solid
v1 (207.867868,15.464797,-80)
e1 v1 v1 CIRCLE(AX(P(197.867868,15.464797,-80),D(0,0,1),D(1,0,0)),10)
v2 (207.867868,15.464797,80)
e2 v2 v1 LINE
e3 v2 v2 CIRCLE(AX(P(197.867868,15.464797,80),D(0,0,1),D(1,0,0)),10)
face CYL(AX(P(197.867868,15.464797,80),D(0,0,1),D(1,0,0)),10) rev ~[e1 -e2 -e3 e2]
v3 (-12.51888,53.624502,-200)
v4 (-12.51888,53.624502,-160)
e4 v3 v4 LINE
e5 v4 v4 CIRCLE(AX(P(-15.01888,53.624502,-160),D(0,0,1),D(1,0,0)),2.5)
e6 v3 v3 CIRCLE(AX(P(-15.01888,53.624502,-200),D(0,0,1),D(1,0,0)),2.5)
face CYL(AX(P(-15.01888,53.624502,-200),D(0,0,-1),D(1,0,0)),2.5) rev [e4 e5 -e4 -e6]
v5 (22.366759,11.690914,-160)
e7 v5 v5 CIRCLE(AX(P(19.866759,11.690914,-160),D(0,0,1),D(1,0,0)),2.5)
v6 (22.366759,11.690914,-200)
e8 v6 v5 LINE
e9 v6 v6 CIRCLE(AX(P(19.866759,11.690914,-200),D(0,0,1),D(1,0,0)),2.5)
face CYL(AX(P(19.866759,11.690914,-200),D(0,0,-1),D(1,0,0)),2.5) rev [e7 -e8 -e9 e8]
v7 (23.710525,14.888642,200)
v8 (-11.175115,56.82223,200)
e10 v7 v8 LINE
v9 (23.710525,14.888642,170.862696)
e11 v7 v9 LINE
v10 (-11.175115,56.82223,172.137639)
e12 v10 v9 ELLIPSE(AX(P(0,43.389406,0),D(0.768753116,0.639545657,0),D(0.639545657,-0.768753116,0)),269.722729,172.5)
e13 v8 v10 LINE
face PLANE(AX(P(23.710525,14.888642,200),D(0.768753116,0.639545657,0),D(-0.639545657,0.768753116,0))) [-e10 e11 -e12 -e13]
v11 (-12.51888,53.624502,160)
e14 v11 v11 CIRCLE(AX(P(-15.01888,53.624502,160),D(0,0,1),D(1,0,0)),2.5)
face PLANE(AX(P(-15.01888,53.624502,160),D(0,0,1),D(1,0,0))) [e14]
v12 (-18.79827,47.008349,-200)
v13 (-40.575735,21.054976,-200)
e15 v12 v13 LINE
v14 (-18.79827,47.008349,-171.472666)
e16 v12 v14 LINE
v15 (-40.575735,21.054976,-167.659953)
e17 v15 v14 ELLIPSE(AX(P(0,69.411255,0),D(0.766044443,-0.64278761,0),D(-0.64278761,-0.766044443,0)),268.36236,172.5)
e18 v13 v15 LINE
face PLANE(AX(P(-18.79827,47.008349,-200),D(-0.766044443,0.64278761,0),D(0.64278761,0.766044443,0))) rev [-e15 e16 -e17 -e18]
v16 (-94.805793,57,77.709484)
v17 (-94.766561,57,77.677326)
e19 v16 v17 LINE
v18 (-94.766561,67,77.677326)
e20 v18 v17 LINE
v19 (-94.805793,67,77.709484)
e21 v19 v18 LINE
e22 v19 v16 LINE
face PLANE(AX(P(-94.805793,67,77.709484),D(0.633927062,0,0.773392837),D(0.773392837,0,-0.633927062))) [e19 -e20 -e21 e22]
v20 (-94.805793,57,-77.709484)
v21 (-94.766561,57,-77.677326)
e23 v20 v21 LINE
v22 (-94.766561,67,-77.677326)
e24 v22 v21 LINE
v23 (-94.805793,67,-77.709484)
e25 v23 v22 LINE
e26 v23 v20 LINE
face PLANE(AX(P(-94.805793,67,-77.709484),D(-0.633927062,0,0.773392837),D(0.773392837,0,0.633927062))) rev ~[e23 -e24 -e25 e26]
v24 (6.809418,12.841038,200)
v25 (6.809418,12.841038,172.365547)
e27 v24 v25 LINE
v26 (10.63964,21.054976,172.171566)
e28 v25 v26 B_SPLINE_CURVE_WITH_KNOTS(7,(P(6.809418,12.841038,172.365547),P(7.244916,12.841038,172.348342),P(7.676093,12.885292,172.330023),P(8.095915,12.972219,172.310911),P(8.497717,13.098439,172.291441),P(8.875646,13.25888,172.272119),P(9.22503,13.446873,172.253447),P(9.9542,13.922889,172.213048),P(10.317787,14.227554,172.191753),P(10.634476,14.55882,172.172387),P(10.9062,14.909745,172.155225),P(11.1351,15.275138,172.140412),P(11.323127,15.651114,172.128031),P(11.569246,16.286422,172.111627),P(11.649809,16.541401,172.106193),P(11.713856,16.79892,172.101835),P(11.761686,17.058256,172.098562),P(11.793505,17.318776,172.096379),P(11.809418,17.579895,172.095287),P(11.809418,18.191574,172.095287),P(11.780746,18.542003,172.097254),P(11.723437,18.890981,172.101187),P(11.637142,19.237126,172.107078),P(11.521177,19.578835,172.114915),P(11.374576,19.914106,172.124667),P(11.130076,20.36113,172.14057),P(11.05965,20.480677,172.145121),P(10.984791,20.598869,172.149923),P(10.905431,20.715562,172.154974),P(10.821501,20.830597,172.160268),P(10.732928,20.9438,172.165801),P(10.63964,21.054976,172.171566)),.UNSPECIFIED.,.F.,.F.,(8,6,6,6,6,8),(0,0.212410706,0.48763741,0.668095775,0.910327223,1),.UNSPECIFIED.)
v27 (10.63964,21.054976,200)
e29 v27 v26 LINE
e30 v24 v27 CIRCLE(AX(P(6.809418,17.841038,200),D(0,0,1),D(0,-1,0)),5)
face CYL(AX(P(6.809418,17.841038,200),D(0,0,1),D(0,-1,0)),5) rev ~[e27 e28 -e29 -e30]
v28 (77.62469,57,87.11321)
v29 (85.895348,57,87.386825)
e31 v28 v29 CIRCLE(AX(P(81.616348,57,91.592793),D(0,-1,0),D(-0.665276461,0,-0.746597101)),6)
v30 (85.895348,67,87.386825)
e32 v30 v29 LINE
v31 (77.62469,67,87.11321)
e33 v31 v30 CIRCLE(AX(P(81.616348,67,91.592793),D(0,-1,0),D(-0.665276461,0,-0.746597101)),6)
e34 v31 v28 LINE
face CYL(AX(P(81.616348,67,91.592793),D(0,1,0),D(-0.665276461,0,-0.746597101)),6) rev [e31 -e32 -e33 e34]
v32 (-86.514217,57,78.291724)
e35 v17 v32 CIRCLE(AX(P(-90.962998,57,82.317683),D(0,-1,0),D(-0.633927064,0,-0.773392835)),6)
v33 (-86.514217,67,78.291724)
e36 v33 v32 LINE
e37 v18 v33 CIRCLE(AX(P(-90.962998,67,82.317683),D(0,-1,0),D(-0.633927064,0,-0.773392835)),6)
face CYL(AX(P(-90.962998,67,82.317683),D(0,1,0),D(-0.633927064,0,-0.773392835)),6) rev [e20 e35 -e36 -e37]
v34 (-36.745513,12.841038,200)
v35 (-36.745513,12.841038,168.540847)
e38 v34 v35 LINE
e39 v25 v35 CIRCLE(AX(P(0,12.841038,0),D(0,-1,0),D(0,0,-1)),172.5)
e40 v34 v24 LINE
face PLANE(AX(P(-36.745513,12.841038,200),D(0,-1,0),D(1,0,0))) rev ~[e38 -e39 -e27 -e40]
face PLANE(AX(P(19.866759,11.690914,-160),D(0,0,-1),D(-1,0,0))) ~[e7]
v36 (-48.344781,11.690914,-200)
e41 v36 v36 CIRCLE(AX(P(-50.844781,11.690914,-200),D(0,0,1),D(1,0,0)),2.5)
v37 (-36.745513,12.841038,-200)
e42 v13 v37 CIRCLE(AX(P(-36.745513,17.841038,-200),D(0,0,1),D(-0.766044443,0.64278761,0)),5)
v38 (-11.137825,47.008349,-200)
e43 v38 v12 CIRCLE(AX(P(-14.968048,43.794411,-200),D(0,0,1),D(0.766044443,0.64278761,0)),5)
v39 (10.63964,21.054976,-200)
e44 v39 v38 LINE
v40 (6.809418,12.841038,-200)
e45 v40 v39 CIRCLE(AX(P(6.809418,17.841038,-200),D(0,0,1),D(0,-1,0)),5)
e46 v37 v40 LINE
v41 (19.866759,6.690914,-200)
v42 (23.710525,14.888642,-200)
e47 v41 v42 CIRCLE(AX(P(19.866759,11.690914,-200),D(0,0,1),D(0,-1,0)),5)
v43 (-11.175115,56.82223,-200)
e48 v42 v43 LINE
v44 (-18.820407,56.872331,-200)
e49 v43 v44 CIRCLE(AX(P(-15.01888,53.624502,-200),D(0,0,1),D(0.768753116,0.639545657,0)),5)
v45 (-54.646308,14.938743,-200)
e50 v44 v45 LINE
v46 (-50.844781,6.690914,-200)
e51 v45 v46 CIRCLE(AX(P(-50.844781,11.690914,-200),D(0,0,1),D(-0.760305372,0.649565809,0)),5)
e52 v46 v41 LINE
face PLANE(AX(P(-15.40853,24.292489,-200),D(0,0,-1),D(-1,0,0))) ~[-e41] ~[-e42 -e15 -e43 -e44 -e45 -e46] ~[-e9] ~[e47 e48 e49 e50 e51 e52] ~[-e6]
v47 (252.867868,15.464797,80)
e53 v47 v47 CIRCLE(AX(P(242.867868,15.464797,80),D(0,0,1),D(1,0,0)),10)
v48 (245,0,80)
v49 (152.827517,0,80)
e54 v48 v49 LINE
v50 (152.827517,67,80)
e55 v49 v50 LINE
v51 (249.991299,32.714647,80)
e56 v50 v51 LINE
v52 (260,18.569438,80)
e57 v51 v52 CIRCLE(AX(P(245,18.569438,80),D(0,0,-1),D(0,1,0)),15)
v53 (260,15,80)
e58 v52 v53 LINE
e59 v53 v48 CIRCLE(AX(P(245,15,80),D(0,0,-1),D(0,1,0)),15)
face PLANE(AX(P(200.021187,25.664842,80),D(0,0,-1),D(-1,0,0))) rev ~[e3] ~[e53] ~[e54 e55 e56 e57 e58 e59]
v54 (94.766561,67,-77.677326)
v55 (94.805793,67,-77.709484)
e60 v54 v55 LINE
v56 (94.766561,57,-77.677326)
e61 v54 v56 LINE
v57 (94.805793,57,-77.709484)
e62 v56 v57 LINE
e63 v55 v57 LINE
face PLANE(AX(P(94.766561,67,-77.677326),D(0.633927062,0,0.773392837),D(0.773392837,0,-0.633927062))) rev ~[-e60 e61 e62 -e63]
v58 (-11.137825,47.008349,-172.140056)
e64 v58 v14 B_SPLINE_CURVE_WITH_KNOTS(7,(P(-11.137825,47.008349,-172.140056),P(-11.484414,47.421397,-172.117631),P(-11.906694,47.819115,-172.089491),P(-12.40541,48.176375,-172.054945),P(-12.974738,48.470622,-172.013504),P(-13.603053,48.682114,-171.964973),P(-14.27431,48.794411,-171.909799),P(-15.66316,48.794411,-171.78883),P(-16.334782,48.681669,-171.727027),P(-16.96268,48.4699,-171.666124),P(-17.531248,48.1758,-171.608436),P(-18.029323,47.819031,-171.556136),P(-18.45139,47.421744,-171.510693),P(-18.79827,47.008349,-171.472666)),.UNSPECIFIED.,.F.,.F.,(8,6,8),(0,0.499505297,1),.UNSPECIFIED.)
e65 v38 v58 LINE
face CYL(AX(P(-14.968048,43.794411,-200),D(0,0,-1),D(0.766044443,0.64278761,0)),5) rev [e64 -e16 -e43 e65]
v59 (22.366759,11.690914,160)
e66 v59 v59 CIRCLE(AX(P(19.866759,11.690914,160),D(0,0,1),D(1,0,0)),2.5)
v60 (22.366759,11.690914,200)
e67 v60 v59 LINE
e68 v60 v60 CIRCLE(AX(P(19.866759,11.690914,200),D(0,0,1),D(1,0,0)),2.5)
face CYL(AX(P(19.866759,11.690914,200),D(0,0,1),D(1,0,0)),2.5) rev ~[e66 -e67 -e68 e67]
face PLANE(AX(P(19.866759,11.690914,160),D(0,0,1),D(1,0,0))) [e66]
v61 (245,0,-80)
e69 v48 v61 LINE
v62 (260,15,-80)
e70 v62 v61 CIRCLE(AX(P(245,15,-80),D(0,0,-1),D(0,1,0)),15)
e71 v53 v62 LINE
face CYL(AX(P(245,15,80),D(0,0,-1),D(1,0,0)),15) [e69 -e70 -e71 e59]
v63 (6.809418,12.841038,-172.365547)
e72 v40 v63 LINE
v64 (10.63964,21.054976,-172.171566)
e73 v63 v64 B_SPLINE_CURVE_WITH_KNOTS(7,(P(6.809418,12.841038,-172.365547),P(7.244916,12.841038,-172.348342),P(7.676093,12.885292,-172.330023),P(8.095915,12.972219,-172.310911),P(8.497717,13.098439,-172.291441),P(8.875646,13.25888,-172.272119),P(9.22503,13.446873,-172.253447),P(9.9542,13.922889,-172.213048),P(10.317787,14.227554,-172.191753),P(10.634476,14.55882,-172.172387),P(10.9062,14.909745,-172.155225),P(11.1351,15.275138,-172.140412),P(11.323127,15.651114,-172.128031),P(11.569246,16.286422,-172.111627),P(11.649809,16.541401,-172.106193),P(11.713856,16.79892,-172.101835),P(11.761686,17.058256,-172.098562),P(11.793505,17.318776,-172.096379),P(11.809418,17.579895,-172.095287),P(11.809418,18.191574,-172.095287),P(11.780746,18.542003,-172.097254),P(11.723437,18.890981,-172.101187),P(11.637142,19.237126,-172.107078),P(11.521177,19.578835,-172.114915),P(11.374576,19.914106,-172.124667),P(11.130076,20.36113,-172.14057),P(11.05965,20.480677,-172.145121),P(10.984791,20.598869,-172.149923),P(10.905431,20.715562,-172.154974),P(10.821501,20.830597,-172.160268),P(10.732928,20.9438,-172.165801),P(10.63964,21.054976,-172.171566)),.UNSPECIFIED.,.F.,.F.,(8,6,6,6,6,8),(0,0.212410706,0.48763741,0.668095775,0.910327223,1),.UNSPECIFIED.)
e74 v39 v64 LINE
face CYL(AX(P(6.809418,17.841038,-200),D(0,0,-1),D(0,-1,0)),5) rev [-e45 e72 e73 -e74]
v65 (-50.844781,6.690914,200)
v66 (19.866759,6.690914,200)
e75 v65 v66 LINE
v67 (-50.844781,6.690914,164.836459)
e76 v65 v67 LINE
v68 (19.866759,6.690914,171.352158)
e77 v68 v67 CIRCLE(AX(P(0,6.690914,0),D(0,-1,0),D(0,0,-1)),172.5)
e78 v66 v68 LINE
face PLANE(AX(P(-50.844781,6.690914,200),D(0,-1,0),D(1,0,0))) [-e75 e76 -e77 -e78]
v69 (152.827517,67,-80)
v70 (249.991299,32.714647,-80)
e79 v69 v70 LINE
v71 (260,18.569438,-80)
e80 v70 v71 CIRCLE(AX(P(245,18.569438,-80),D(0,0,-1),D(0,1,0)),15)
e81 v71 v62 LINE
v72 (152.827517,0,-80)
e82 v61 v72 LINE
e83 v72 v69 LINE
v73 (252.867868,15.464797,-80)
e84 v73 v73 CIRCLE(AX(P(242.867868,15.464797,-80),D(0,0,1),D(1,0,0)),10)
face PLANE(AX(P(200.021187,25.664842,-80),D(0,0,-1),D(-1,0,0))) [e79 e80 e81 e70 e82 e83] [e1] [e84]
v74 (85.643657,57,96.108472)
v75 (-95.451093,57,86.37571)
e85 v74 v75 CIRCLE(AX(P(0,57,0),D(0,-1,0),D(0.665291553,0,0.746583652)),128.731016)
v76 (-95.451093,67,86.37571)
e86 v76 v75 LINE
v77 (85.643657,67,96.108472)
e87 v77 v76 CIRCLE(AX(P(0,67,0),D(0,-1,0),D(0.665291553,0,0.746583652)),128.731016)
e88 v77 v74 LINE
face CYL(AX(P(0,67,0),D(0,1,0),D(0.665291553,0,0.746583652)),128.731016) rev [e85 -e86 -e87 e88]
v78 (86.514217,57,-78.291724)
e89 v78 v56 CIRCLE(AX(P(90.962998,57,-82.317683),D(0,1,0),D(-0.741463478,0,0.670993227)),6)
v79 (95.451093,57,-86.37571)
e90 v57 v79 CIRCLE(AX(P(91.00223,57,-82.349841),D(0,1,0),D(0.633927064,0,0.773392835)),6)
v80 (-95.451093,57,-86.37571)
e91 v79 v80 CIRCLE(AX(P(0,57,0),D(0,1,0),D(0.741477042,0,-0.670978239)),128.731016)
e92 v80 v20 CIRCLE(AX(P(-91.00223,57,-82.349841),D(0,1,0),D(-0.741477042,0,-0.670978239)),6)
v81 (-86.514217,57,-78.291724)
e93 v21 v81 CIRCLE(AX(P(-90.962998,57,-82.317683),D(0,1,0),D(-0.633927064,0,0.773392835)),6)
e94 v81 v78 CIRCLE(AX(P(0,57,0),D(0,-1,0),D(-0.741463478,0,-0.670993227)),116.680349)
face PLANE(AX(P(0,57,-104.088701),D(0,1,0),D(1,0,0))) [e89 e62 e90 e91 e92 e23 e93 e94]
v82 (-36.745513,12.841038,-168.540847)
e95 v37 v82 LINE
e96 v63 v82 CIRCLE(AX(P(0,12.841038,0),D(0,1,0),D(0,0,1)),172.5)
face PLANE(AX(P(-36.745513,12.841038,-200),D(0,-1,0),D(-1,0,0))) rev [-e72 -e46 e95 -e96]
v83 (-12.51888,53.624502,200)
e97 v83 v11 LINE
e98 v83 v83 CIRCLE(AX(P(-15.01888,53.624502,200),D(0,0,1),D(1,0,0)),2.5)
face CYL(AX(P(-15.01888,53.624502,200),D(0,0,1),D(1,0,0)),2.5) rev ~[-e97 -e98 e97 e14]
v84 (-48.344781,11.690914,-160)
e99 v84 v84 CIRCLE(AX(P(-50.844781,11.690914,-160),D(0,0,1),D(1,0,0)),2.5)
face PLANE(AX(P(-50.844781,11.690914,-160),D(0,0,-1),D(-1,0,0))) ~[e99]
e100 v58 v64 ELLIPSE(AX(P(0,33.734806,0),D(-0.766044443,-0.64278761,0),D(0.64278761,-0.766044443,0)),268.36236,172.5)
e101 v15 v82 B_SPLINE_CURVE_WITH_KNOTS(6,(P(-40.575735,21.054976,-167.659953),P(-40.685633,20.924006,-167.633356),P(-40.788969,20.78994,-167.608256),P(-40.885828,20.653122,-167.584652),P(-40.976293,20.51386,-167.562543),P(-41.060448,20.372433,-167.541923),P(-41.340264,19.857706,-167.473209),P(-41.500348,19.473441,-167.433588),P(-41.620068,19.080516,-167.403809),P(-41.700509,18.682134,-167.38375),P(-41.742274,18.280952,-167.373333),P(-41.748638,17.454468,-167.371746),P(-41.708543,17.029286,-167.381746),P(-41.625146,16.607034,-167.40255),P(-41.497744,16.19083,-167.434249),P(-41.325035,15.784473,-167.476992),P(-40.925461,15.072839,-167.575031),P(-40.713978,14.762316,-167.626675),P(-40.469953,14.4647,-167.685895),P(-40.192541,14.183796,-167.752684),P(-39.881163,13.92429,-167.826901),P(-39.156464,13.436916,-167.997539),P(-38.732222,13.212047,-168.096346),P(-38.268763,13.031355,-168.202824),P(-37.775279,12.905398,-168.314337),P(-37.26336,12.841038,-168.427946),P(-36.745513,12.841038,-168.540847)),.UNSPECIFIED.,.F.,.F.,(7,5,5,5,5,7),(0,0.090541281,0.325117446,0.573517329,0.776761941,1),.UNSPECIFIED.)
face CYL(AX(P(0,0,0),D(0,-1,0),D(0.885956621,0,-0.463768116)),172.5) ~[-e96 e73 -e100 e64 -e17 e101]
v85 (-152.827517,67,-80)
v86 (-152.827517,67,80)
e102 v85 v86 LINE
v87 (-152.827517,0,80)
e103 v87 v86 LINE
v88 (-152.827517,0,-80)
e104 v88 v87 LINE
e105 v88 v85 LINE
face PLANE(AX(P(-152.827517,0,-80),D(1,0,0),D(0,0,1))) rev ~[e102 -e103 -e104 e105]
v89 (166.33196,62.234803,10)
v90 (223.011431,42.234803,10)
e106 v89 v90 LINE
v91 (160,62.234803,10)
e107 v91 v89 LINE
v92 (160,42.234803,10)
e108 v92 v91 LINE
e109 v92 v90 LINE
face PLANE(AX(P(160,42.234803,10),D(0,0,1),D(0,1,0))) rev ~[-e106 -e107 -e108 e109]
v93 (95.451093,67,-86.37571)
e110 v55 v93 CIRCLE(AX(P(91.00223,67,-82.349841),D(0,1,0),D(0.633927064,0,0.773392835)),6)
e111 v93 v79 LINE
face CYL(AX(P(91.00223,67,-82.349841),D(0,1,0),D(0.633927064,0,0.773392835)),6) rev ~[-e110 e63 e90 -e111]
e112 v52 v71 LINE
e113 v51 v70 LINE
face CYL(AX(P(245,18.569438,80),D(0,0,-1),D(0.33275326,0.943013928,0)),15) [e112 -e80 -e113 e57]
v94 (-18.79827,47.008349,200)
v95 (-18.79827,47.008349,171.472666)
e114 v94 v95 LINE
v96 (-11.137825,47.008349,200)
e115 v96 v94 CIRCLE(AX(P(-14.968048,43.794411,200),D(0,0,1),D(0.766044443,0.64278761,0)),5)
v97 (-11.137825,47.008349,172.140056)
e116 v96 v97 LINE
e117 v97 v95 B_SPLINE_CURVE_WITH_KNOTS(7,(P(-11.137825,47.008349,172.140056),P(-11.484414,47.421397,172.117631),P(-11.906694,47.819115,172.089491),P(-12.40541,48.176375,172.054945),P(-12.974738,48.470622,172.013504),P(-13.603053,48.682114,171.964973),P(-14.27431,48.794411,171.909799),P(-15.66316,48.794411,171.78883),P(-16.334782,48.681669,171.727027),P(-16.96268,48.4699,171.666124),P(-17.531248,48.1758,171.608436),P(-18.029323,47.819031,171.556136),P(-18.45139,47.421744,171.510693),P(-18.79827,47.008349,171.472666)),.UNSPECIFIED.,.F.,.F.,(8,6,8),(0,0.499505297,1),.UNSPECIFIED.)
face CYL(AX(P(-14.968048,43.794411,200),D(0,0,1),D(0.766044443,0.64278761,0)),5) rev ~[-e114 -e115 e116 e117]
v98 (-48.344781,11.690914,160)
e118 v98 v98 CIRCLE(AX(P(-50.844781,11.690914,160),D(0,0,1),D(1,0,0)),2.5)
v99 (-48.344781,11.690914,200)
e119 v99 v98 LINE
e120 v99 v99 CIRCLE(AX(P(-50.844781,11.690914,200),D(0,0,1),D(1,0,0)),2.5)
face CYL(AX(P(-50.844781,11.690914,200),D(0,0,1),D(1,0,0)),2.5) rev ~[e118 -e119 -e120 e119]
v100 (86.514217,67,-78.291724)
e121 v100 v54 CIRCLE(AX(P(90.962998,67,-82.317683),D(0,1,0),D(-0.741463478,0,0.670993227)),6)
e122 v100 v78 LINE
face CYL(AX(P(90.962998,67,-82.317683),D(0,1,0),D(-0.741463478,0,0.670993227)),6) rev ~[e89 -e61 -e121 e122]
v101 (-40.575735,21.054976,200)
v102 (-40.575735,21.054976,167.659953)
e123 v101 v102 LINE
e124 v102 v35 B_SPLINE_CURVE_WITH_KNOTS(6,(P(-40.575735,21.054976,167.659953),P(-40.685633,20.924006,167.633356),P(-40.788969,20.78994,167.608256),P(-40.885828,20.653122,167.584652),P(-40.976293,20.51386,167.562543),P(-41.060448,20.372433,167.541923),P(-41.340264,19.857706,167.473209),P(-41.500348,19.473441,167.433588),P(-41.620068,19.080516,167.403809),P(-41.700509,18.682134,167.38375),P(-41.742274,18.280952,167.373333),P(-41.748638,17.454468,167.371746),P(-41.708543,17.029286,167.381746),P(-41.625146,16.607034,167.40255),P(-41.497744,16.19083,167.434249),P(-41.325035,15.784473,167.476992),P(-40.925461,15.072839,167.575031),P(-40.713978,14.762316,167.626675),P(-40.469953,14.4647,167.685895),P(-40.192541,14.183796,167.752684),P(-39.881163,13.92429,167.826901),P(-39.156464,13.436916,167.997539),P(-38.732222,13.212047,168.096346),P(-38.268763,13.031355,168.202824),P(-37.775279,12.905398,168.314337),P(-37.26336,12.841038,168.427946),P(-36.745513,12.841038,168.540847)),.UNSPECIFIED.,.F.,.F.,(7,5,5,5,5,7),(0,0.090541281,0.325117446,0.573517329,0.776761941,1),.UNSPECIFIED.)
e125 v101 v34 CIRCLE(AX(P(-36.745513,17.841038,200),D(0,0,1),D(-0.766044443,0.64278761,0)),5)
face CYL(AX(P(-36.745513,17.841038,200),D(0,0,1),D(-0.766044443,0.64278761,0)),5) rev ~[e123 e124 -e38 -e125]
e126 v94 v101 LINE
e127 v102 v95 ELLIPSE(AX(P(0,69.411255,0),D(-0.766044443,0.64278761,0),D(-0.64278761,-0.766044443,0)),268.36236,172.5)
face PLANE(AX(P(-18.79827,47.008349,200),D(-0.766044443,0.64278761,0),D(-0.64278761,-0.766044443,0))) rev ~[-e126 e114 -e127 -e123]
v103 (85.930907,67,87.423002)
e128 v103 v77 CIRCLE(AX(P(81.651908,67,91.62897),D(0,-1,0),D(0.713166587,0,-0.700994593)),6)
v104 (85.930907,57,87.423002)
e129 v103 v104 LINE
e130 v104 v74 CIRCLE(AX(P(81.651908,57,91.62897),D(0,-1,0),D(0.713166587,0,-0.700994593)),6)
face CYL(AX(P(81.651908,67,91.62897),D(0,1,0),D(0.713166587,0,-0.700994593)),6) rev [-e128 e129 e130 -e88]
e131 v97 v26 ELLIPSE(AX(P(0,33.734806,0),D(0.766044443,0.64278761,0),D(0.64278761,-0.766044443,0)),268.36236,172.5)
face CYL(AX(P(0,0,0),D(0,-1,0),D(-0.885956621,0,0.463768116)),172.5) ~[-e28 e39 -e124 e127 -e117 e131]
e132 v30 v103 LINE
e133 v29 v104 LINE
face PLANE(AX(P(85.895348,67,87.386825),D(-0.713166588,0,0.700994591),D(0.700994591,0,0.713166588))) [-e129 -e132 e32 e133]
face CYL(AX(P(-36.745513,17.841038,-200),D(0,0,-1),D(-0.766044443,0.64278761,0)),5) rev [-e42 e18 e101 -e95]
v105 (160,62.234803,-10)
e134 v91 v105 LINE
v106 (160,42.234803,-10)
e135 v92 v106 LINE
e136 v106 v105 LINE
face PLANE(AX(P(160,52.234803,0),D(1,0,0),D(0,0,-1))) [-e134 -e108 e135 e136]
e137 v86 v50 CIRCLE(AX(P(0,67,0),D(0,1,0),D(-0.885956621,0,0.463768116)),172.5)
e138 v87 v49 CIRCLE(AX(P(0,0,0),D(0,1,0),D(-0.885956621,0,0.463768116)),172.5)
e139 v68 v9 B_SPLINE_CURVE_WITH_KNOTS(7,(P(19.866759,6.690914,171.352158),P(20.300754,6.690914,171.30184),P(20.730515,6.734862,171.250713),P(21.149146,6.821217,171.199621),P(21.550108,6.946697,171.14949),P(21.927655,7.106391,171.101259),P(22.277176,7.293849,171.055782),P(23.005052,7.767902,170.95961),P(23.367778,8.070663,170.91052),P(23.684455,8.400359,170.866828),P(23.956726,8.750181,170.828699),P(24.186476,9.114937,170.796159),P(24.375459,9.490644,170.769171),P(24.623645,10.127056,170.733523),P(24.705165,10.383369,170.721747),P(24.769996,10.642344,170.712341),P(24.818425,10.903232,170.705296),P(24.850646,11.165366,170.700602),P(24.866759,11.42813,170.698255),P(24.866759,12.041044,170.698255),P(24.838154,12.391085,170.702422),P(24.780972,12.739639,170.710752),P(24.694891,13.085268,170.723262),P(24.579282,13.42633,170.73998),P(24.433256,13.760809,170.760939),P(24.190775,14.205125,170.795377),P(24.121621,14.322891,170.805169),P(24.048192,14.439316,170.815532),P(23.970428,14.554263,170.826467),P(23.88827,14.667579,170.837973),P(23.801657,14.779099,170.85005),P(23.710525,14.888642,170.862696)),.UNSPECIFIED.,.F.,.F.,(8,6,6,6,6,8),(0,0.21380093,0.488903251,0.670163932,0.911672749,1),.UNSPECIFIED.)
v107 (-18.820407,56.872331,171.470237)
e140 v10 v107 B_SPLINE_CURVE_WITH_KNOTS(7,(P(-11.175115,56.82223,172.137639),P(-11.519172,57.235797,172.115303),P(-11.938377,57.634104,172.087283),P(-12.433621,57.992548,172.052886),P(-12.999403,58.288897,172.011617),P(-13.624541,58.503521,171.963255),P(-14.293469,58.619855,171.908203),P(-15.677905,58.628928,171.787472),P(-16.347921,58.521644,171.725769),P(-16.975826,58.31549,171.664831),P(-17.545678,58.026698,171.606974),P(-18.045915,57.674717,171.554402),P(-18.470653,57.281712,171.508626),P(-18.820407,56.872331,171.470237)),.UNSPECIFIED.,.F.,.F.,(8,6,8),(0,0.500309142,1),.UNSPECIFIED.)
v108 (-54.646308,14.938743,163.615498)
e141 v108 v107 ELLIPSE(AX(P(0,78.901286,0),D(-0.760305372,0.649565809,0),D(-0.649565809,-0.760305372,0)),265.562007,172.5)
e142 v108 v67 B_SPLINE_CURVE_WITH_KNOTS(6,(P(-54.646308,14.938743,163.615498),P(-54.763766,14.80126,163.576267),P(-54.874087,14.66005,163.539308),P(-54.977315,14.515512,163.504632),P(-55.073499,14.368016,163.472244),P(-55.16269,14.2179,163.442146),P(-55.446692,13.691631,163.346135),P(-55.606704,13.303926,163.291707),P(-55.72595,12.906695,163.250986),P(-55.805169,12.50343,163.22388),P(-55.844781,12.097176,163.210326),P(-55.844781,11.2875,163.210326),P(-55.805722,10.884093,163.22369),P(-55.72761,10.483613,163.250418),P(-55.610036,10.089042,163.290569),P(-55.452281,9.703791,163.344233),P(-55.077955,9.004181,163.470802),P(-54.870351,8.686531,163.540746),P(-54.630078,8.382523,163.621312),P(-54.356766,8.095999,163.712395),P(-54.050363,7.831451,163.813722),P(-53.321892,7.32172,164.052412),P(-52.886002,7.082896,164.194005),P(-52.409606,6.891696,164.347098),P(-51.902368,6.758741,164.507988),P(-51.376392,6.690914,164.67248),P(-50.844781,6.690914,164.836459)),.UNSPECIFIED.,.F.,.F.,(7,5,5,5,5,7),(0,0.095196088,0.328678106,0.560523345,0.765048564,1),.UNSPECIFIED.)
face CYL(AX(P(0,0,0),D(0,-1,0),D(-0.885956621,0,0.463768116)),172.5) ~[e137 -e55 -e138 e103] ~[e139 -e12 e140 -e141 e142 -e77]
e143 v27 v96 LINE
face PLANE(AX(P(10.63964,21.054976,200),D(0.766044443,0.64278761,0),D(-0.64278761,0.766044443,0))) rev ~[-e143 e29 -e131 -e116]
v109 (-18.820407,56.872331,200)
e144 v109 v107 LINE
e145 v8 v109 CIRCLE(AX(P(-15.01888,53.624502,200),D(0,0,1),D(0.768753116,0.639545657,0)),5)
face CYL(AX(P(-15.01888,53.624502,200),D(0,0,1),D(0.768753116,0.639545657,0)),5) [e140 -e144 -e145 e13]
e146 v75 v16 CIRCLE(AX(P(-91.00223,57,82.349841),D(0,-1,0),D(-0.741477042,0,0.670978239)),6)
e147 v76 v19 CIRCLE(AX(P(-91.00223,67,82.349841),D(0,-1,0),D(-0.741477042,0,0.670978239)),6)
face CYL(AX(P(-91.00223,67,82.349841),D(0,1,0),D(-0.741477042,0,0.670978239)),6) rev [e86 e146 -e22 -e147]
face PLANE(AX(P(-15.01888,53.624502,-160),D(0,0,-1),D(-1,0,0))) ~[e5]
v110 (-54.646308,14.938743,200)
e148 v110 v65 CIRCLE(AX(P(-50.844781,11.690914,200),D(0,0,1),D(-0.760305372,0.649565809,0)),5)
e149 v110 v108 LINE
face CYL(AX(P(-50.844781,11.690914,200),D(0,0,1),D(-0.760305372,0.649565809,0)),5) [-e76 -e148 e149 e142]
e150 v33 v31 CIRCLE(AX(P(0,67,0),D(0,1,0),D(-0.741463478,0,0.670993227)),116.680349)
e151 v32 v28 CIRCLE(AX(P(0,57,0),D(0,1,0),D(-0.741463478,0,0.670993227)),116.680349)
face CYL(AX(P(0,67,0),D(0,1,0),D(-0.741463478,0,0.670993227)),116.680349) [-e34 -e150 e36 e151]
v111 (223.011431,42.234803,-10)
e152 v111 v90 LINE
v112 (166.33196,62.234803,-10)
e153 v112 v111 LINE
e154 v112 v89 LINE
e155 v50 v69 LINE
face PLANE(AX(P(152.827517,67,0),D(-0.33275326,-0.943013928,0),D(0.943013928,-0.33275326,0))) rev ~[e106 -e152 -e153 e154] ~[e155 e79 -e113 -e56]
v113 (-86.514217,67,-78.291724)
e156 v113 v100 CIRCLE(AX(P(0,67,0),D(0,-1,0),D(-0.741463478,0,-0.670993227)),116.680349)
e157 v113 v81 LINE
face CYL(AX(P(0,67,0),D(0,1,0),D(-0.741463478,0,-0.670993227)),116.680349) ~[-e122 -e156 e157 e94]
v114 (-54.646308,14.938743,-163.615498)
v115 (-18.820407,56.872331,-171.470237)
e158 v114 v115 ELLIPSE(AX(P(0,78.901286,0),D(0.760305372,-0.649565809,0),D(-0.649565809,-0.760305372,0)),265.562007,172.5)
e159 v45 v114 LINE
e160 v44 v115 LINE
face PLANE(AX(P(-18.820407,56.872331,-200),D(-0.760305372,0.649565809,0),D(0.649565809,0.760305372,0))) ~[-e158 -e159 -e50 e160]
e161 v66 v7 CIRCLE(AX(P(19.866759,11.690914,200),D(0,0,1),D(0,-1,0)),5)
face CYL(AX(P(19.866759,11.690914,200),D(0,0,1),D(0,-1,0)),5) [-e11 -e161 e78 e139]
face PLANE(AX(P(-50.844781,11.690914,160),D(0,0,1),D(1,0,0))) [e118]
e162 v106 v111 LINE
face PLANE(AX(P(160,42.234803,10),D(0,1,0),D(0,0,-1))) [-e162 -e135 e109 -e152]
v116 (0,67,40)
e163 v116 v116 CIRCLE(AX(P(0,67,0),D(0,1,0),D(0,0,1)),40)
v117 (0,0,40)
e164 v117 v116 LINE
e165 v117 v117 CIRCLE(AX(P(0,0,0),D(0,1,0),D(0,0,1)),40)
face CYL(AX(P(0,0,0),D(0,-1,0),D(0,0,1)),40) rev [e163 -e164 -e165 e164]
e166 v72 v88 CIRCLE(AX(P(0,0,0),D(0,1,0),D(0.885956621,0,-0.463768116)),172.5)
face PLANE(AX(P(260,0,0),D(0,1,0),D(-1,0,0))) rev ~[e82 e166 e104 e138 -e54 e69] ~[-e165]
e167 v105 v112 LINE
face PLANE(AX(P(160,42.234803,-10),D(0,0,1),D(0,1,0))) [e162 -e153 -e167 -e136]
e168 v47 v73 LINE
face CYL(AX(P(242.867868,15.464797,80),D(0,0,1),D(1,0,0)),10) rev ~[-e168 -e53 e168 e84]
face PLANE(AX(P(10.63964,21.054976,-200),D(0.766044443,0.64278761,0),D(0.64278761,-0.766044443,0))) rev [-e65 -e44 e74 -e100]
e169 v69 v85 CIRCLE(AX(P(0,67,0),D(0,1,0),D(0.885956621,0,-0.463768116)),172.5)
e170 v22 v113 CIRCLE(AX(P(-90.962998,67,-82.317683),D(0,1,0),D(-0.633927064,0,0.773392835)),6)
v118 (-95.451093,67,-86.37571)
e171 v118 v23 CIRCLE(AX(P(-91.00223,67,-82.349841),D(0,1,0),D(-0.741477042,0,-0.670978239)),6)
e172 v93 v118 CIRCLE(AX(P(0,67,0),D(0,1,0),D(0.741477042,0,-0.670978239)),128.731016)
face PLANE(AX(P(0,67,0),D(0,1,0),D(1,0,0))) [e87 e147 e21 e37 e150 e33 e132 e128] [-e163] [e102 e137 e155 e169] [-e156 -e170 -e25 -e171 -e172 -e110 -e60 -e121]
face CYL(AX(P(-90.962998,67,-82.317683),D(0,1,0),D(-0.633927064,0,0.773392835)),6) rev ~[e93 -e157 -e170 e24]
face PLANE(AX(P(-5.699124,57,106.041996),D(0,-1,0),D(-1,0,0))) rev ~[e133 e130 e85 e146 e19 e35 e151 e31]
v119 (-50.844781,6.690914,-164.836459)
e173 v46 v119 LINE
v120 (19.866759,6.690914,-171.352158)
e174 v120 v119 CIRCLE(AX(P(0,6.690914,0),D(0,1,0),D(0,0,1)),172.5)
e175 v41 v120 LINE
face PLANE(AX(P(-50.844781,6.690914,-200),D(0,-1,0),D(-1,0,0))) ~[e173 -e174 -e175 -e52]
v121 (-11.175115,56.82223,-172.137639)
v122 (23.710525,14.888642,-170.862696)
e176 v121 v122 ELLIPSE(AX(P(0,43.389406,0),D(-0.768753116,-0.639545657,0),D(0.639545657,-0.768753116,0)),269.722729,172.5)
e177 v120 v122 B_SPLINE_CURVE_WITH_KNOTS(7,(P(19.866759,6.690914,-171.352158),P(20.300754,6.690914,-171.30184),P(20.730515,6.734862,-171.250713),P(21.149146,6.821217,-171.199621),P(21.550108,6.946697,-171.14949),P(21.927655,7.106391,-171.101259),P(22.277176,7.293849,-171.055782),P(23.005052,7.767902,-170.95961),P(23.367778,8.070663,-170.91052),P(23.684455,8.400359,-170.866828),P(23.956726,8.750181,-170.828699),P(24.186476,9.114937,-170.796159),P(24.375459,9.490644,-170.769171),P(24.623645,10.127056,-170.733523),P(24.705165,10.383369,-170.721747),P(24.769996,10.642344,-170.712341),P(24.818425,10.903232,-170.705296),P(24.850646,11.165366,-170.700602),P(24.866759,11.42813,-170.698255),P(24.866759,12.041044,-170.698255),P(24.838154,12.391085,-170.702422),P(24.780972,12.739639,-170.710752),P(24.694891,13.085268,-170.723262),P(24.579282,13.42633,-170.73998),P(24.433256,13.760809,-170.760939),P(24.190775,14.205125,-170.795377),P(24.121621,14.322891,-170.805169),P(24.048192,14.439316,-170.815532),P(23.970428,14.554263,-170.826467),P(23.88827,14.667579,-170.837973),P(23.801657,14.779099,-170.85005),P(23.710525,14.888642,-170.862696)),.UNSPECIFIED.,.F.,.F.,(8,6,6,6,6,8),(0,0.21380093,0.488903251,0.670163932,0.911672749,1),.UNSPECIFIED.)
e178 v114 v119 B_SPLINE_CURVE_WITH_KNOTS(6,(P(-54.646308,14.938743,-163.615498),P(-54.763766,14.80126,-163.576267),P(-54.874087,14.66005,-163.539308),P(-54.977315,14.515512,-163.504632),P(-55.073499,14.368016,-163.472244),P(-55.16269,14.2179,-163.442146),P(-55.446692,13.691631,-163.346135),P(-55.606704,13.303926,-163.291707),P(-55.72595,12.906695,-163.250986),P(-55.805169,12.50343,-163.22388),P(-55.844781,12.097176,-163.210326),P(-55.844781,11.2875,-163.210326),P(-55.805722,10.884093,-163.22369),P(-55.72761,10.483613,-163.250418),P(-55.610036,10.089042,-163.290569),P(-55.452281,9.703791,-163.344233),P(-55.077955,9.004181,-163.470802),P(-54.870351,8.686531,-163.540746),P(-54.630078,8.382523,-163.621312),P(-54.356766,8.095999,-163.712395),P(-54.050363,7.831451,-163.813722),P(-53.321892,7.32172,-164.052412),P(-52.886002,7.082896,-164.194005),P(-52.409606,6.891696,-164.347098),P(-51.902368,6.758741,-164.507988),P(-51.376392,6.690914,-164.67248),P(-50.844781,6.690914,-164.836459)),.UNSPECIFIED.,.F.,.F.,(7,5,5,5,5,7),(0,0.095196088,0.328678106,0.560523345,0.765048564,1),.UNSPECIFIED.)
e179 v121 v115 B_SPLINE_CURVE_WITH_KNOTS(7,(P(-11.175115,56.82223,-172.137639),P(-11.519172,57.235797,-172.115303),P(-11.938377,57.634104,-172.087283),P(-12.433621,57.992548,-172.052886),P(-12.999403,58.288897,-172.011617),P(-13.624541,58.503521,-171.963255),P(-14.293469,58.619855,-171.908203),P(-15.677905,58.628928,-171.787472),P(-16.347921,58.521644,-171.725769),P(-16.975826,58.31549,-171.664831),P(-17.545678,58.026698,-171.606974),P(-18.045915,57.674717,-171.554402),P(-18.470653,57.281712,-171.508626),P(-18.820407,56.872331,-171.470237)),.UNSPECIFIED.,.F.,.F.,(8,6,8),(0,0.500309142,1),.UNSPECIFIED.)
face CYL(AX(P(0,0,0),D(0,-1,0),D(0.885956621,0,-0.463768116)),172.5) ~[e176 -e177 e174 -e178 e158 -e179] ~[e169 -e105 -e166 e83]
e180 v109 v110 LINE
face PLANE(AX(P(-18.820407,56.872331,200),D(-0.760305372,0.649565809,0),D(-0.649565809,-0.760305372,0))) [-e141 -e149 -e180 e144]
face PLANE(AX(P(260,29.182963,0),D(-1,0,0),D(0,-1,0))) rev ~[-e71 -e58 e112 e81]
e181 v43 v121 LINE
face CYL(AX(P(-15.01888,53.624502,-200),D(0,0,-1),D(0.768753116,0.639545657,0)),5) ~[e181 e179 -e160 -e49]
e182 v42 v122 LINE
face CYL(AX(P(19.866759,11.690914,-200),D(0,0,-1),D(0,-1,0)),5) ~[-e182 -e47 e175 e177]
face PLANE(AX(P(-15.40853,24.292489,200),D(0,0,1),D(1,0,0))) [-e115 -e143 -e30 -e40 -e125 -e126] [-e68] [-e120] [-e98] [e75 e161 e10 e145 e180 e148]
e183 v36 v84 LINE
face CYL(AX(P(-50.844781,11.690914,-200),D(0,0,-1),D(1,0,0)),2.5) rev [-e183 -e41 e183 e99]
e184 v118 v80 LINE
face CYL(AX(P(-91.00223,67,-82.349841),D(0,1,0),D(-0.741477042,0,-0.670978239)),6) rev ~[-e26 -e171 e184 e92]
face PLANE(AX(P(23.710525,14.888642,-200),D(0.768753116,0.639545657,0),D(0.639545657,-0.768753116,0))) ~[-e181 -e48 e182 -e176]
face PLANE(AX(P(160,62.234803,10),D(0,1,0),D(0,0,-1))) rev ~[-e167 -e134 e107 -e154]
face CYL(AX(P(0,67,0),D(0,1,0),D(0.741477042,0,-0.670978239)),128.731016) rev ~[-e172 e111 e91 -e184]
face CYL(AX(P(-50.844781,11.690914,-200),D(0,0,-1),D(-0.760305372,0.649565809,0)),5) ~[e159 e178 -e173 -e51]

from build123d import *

# Parameters (mm, degrees)
SKETCH1_R                = 40
BOSS_EXTRUDE1_DEPTH      = 67
CUT_EXTRUDE1_DEPTH       = 10
BOSS_EXTRUDE2_DEPTH      = 80
CUT_EXTRUDE2_REACH       = 370.572
SKETCH4_R                = 10
FILLET1_R                = 15
CUT_EXTRUDE5_REACH       = 365.464
SKETCH6_W                = 20
SKETCH6_H                = 20
BOSS_EXTRUDE3_REACH      = 461.179
BOSS_EXTRUDE3_END_RADIUS = 172.5
SKETCH8_R                = 2.5
CUT_EXTRUDE6_DEPTH       = 40


with BuildPart() as part:
    # Sketch1 → Boss-Extrude1 (new body)
    with BuildSketch(Plane(origin=(0, 0, 0), x_dir=(1, 0, 0), z_dir=(0, 1, 0))):
        with BuildLine():
            Line((-152.827517156, 80), (-152.827517156, -80))
            ThreePointArc((-152.827517156, -80), (0, -172.5), (152.827517156, -80))
            Line((152.827517156, -80), (152.827517156, 80))
            ThreePointArc((152.827517156, 80), (0, 172.5), (-152.827517156, 80))
        make_face()
        with Locations(Location((0, 0, 0), (0, 0, 270))):
            Circle(SKETCH1_R, mode=Mode.SUBTRACT)
    extrude(amount=BOSS_EXTRUDE1_DEPTH)

    # Sketch2 → Cut-Extrude1 (cut)
    with BuildSketch(Plane(origin=(0, 67, 0), x_dir=(1, 0, 0), z_dir=(0, 1, 0))):
        with BuildLine():
            Line((-94.805792729, 77.709483627), (-94.766560633, 77.677326247))
            ThreePointArc((-94.766560633, 77.677326247), (-90.5175234, 76.33424343), (-86.514217379, 78.291723895))
            ThreePointArc((-86.514217379, 78.291723895), (0, 116.680348985), (86.514217379, 78.291723895))
            ThreePointArc((86.514217379, 78.291723895), (90.5175234, 76.33424343), (94.766560633, 77.677326247))
            Line((94.766560633, 77.677326247), (94.805792729, 77.709483627))
            ThreePointArc((94.805792729, 77.709483627), (96.985665668, 81.904305313), (95.451092594, 86.375710069))
            ThreePointArc((95.451092594, 86.375710069), (0, 128.731015561), (-95.451092594, 86.375710069))
            ThreePointArc((-95.451092594, 86.375710069), (-96.985665668, 81.904305313), (-94.805792729, 77.709483627))
        make_face()
        with BuildLine():
            Line((-94.805792729, -77.709483627), (-94.766560633, -77.677326247))
            ThreePointArc((-94.766560633, -77.677326247), (-90.5175234, -76.33424343), (-86.514217379, -78.291723895))
            ThreePointArc((-86.514217379, -78.291723895), (-6.261835306, -116.512202184), (77.624689613, -87.11321026))
            ThreePointArc((77.624689613, -87.11321026), (81.814735563, -85.59607355), (85.895347897, -87.386825304))
            Line((85.895347897, -87.386825304), (85.930907429, -87.423002288))
            ThreePointArc((85.930907429, -87.423002288), (87.648629228, -91.827296423), (85.643657226, -96.108471762))
            ThreePointArc((85.643657226, -96.108471762), (-6.90855337, -128.545502674), (-95.451092594, -86.375710069))
            ThreePointArc((-95.451092594, -86.375710069), (-96.985665668, -81.904305313), (-94.805792729, -77.709483627))
        make_face()
    extrude(amount=-CUT_EXTRUDE1_DEPTH, mode=Mode.SUBTRACT)

    # Sketch3 → Boss-Extrude2 (add, symmetric)
    with BuildSketch(Plane.XY):
        Polygon((152.827517156, 67), (260, 29.182962561), (260, 0), (152.827517156, 0), align=None)
    extrude(amount=BOSS_EXTRUDE2_DEPTH, both=True)

    # Sketch4 → Cut-Extrude2 (cut, up to next)
    with BuildSketch(Plane.XY.offset(80), mode=Mode.PRIVATE) as cut_extrude2_sk1:
        with Locations((197.867868221, 15.46479665)):
            Circle(SKETCH4_R)
    cut_extrude2_tool1 = extrude(cut_extrude2_sk1.sketch, amount=-CUT_EXTRUDE2_REACH, mode=Mode.PRIVATE) & part.part
    # Sketch4 → Cut-Extrude2 (cut, up to next)
    with BuildSketch(Plane.XY.offset(80), mode=Mode.PRIVATE) as cut_extrude2_sk2:
        with Locations((242.867868221, 15.46479665)):
            Circle(SKETCH4_R)
    cut_extrude2_tool2 = extrude(cut_extrude2_sk2.sketch, amount=-CUT_EXTRUDE2_REACH, mode=Mode.PRIVATE) & part.part
    add(cut_extrude2_tool1.solids().sort_by_distance((197.867868, 15.464797, 80))[0], mode=Mode.SUBTRACT)
    add(cut_extrude2_tool2.solids().sort_by_distance((242.867868, 15.464797, 80))[0], mode=Mode.SUBTRACT)

    # Fillet1
    fillet1_edges = [part.edges().sort_by_distance(p)[0] for p in [
        (260, 0, 0),
        (260, 29.182962561, 0),
    ]]
    fillet(fillet1_edges, radius=FILLET1_R)

    # Cut-Extrude5: up to this plane
    cut_extrude5_end = Plane(origin=(152.827517156, 67, 80), z_dir=(-0.3327532596919791, -0.9430139278740067, 0))
    # Sketch6 → Cut-Extrude5 (cut, up to the surface)
    with BuildSketch(Plane(origin=(160, 0, 0), x_dir=(0, 0, -1), z_dir=(1, 0, 0)), mode=Mode.PRIVATE) as cut_extrude5_sk1:
        with Locations((0, 52.234802616)):
            Rectangle(SKETCH6_W, SKETCH6_H)
    cut_extrude5_tool1 = split(extrude(cut_extrude5_sk1.sketch, amount=CUT_EXTRUDE5_REACH, mode=Mode.PRIVATE), bisect_by=cut_extrude5_end, keep=Keep.BOTH, mode=Mode.PRIVATE)
    add(cut_extrude5_tool1.solids().sort_by_distance((160, 52.234803, 0))[0], mode=Mode.SUBTRACT)

    # Boss-Extrude3: up to this cylinder (the profile starts outside it)
    boss_extrude3_end = Plane(origin=(0, 35.241624, 0), z_dir=(0, -1, 0)) * Cylinder(BOSS_EXTRUDE3_END_RADIUS, 1268.358, mode=Mode.PRIVATE)
    # Sketch7 → Boss-Extrude3 (add, up to the surface)
    with BuildSketch(Plane.XY.offset(200), mode=Mode.PRIVATE) as boss_extrude3_sk1:
        with BuildLine():
            Line((-18.820406998, 56.872330571), (-54.64630767, 14.938742986))
            ThreePointArc((-54.64630767, 14.938742986), (-55.385658765, 9.597966882), (-50.844780808, 6.690913939))
            Line((-50.844780808, 6.690913939), (19.866759041, 6.690913939))
            ThreePointArc((19.866759041, 6.690913939), (24.393824394, 9.568255396), (23.71052462, 14.888642223))
            Line((23.71052462, 14.888642223), (-11.175114557, 56.822229808))
            ThreePointArc((-11.175114557, 56.822229808), (-14.986115079, 58.624394168), (-18.820406998, 56.872330571))
        make_face()
        with BuildLine():
            Line((-18.798269892, 47.008349057), (-40.57573529, 21.054976432))
            ThreePointArc((-40.57573529, 21.054976432), (-41.277052009, 15.727947075), (-36.745513074, 12.841038384))
            Line((-36.745513074, 12.841038384), (6.809417721, 12.841038384))
            ThreePointArc((6.809417721, 12.841038384), (11.340956656, 15.727947075), (10.639639936, 21.054976432))
            Line((10.639639936, 21.054976432), (-11.137825461, 47.008349057))
            ThreePointArc((-11.137825461, 47.008349057), (-14.968047677, 48.794411009), (-18.798269892, 47.008349057))
        make_face(mode=Mode.SUBTRACT)
    boss_extrude3_tool1 = extrude(boss_extrude3_sk1.sketch, amount=-BOSS_EXTRUDE3_REACH, mode=Mode.PRIVATE) - boss_extrude3_end
    boss_extrude3 = boss_extrude3_tool1.solids().sort_by_distance((5.529884, 35.241624, 200))[0]
    add(boss_extrude3)

    # Sketch8 → Cut-Extrude6 (cut)
    with BuildSketch(Plane.XY.offset(200)):
        with Locations((-15.018880135, 53.624501524)):
            Circle(SKETCH8_R)
        with Locations((19.866759041, 11.690913939)):
            Circle(SKETCH8_R)
        with Locations((-50.844780808, 11.690913939)):
            Circle(SKETCH8_R)
    cut_extrude6 = extrude(amount=-CUT_EXTRUDE6_DEPTH, mode=Mode.SUBTRACT)

    # Mirror1: Boss-Extrude3, Cut-Extrude6 across plane
    add(boss_extrude3.mirror(Plane.XY))
    add(cut_extrude6.mirror(Plane.XY), mode=Mode.SUBTRACT)


solid = part.part
